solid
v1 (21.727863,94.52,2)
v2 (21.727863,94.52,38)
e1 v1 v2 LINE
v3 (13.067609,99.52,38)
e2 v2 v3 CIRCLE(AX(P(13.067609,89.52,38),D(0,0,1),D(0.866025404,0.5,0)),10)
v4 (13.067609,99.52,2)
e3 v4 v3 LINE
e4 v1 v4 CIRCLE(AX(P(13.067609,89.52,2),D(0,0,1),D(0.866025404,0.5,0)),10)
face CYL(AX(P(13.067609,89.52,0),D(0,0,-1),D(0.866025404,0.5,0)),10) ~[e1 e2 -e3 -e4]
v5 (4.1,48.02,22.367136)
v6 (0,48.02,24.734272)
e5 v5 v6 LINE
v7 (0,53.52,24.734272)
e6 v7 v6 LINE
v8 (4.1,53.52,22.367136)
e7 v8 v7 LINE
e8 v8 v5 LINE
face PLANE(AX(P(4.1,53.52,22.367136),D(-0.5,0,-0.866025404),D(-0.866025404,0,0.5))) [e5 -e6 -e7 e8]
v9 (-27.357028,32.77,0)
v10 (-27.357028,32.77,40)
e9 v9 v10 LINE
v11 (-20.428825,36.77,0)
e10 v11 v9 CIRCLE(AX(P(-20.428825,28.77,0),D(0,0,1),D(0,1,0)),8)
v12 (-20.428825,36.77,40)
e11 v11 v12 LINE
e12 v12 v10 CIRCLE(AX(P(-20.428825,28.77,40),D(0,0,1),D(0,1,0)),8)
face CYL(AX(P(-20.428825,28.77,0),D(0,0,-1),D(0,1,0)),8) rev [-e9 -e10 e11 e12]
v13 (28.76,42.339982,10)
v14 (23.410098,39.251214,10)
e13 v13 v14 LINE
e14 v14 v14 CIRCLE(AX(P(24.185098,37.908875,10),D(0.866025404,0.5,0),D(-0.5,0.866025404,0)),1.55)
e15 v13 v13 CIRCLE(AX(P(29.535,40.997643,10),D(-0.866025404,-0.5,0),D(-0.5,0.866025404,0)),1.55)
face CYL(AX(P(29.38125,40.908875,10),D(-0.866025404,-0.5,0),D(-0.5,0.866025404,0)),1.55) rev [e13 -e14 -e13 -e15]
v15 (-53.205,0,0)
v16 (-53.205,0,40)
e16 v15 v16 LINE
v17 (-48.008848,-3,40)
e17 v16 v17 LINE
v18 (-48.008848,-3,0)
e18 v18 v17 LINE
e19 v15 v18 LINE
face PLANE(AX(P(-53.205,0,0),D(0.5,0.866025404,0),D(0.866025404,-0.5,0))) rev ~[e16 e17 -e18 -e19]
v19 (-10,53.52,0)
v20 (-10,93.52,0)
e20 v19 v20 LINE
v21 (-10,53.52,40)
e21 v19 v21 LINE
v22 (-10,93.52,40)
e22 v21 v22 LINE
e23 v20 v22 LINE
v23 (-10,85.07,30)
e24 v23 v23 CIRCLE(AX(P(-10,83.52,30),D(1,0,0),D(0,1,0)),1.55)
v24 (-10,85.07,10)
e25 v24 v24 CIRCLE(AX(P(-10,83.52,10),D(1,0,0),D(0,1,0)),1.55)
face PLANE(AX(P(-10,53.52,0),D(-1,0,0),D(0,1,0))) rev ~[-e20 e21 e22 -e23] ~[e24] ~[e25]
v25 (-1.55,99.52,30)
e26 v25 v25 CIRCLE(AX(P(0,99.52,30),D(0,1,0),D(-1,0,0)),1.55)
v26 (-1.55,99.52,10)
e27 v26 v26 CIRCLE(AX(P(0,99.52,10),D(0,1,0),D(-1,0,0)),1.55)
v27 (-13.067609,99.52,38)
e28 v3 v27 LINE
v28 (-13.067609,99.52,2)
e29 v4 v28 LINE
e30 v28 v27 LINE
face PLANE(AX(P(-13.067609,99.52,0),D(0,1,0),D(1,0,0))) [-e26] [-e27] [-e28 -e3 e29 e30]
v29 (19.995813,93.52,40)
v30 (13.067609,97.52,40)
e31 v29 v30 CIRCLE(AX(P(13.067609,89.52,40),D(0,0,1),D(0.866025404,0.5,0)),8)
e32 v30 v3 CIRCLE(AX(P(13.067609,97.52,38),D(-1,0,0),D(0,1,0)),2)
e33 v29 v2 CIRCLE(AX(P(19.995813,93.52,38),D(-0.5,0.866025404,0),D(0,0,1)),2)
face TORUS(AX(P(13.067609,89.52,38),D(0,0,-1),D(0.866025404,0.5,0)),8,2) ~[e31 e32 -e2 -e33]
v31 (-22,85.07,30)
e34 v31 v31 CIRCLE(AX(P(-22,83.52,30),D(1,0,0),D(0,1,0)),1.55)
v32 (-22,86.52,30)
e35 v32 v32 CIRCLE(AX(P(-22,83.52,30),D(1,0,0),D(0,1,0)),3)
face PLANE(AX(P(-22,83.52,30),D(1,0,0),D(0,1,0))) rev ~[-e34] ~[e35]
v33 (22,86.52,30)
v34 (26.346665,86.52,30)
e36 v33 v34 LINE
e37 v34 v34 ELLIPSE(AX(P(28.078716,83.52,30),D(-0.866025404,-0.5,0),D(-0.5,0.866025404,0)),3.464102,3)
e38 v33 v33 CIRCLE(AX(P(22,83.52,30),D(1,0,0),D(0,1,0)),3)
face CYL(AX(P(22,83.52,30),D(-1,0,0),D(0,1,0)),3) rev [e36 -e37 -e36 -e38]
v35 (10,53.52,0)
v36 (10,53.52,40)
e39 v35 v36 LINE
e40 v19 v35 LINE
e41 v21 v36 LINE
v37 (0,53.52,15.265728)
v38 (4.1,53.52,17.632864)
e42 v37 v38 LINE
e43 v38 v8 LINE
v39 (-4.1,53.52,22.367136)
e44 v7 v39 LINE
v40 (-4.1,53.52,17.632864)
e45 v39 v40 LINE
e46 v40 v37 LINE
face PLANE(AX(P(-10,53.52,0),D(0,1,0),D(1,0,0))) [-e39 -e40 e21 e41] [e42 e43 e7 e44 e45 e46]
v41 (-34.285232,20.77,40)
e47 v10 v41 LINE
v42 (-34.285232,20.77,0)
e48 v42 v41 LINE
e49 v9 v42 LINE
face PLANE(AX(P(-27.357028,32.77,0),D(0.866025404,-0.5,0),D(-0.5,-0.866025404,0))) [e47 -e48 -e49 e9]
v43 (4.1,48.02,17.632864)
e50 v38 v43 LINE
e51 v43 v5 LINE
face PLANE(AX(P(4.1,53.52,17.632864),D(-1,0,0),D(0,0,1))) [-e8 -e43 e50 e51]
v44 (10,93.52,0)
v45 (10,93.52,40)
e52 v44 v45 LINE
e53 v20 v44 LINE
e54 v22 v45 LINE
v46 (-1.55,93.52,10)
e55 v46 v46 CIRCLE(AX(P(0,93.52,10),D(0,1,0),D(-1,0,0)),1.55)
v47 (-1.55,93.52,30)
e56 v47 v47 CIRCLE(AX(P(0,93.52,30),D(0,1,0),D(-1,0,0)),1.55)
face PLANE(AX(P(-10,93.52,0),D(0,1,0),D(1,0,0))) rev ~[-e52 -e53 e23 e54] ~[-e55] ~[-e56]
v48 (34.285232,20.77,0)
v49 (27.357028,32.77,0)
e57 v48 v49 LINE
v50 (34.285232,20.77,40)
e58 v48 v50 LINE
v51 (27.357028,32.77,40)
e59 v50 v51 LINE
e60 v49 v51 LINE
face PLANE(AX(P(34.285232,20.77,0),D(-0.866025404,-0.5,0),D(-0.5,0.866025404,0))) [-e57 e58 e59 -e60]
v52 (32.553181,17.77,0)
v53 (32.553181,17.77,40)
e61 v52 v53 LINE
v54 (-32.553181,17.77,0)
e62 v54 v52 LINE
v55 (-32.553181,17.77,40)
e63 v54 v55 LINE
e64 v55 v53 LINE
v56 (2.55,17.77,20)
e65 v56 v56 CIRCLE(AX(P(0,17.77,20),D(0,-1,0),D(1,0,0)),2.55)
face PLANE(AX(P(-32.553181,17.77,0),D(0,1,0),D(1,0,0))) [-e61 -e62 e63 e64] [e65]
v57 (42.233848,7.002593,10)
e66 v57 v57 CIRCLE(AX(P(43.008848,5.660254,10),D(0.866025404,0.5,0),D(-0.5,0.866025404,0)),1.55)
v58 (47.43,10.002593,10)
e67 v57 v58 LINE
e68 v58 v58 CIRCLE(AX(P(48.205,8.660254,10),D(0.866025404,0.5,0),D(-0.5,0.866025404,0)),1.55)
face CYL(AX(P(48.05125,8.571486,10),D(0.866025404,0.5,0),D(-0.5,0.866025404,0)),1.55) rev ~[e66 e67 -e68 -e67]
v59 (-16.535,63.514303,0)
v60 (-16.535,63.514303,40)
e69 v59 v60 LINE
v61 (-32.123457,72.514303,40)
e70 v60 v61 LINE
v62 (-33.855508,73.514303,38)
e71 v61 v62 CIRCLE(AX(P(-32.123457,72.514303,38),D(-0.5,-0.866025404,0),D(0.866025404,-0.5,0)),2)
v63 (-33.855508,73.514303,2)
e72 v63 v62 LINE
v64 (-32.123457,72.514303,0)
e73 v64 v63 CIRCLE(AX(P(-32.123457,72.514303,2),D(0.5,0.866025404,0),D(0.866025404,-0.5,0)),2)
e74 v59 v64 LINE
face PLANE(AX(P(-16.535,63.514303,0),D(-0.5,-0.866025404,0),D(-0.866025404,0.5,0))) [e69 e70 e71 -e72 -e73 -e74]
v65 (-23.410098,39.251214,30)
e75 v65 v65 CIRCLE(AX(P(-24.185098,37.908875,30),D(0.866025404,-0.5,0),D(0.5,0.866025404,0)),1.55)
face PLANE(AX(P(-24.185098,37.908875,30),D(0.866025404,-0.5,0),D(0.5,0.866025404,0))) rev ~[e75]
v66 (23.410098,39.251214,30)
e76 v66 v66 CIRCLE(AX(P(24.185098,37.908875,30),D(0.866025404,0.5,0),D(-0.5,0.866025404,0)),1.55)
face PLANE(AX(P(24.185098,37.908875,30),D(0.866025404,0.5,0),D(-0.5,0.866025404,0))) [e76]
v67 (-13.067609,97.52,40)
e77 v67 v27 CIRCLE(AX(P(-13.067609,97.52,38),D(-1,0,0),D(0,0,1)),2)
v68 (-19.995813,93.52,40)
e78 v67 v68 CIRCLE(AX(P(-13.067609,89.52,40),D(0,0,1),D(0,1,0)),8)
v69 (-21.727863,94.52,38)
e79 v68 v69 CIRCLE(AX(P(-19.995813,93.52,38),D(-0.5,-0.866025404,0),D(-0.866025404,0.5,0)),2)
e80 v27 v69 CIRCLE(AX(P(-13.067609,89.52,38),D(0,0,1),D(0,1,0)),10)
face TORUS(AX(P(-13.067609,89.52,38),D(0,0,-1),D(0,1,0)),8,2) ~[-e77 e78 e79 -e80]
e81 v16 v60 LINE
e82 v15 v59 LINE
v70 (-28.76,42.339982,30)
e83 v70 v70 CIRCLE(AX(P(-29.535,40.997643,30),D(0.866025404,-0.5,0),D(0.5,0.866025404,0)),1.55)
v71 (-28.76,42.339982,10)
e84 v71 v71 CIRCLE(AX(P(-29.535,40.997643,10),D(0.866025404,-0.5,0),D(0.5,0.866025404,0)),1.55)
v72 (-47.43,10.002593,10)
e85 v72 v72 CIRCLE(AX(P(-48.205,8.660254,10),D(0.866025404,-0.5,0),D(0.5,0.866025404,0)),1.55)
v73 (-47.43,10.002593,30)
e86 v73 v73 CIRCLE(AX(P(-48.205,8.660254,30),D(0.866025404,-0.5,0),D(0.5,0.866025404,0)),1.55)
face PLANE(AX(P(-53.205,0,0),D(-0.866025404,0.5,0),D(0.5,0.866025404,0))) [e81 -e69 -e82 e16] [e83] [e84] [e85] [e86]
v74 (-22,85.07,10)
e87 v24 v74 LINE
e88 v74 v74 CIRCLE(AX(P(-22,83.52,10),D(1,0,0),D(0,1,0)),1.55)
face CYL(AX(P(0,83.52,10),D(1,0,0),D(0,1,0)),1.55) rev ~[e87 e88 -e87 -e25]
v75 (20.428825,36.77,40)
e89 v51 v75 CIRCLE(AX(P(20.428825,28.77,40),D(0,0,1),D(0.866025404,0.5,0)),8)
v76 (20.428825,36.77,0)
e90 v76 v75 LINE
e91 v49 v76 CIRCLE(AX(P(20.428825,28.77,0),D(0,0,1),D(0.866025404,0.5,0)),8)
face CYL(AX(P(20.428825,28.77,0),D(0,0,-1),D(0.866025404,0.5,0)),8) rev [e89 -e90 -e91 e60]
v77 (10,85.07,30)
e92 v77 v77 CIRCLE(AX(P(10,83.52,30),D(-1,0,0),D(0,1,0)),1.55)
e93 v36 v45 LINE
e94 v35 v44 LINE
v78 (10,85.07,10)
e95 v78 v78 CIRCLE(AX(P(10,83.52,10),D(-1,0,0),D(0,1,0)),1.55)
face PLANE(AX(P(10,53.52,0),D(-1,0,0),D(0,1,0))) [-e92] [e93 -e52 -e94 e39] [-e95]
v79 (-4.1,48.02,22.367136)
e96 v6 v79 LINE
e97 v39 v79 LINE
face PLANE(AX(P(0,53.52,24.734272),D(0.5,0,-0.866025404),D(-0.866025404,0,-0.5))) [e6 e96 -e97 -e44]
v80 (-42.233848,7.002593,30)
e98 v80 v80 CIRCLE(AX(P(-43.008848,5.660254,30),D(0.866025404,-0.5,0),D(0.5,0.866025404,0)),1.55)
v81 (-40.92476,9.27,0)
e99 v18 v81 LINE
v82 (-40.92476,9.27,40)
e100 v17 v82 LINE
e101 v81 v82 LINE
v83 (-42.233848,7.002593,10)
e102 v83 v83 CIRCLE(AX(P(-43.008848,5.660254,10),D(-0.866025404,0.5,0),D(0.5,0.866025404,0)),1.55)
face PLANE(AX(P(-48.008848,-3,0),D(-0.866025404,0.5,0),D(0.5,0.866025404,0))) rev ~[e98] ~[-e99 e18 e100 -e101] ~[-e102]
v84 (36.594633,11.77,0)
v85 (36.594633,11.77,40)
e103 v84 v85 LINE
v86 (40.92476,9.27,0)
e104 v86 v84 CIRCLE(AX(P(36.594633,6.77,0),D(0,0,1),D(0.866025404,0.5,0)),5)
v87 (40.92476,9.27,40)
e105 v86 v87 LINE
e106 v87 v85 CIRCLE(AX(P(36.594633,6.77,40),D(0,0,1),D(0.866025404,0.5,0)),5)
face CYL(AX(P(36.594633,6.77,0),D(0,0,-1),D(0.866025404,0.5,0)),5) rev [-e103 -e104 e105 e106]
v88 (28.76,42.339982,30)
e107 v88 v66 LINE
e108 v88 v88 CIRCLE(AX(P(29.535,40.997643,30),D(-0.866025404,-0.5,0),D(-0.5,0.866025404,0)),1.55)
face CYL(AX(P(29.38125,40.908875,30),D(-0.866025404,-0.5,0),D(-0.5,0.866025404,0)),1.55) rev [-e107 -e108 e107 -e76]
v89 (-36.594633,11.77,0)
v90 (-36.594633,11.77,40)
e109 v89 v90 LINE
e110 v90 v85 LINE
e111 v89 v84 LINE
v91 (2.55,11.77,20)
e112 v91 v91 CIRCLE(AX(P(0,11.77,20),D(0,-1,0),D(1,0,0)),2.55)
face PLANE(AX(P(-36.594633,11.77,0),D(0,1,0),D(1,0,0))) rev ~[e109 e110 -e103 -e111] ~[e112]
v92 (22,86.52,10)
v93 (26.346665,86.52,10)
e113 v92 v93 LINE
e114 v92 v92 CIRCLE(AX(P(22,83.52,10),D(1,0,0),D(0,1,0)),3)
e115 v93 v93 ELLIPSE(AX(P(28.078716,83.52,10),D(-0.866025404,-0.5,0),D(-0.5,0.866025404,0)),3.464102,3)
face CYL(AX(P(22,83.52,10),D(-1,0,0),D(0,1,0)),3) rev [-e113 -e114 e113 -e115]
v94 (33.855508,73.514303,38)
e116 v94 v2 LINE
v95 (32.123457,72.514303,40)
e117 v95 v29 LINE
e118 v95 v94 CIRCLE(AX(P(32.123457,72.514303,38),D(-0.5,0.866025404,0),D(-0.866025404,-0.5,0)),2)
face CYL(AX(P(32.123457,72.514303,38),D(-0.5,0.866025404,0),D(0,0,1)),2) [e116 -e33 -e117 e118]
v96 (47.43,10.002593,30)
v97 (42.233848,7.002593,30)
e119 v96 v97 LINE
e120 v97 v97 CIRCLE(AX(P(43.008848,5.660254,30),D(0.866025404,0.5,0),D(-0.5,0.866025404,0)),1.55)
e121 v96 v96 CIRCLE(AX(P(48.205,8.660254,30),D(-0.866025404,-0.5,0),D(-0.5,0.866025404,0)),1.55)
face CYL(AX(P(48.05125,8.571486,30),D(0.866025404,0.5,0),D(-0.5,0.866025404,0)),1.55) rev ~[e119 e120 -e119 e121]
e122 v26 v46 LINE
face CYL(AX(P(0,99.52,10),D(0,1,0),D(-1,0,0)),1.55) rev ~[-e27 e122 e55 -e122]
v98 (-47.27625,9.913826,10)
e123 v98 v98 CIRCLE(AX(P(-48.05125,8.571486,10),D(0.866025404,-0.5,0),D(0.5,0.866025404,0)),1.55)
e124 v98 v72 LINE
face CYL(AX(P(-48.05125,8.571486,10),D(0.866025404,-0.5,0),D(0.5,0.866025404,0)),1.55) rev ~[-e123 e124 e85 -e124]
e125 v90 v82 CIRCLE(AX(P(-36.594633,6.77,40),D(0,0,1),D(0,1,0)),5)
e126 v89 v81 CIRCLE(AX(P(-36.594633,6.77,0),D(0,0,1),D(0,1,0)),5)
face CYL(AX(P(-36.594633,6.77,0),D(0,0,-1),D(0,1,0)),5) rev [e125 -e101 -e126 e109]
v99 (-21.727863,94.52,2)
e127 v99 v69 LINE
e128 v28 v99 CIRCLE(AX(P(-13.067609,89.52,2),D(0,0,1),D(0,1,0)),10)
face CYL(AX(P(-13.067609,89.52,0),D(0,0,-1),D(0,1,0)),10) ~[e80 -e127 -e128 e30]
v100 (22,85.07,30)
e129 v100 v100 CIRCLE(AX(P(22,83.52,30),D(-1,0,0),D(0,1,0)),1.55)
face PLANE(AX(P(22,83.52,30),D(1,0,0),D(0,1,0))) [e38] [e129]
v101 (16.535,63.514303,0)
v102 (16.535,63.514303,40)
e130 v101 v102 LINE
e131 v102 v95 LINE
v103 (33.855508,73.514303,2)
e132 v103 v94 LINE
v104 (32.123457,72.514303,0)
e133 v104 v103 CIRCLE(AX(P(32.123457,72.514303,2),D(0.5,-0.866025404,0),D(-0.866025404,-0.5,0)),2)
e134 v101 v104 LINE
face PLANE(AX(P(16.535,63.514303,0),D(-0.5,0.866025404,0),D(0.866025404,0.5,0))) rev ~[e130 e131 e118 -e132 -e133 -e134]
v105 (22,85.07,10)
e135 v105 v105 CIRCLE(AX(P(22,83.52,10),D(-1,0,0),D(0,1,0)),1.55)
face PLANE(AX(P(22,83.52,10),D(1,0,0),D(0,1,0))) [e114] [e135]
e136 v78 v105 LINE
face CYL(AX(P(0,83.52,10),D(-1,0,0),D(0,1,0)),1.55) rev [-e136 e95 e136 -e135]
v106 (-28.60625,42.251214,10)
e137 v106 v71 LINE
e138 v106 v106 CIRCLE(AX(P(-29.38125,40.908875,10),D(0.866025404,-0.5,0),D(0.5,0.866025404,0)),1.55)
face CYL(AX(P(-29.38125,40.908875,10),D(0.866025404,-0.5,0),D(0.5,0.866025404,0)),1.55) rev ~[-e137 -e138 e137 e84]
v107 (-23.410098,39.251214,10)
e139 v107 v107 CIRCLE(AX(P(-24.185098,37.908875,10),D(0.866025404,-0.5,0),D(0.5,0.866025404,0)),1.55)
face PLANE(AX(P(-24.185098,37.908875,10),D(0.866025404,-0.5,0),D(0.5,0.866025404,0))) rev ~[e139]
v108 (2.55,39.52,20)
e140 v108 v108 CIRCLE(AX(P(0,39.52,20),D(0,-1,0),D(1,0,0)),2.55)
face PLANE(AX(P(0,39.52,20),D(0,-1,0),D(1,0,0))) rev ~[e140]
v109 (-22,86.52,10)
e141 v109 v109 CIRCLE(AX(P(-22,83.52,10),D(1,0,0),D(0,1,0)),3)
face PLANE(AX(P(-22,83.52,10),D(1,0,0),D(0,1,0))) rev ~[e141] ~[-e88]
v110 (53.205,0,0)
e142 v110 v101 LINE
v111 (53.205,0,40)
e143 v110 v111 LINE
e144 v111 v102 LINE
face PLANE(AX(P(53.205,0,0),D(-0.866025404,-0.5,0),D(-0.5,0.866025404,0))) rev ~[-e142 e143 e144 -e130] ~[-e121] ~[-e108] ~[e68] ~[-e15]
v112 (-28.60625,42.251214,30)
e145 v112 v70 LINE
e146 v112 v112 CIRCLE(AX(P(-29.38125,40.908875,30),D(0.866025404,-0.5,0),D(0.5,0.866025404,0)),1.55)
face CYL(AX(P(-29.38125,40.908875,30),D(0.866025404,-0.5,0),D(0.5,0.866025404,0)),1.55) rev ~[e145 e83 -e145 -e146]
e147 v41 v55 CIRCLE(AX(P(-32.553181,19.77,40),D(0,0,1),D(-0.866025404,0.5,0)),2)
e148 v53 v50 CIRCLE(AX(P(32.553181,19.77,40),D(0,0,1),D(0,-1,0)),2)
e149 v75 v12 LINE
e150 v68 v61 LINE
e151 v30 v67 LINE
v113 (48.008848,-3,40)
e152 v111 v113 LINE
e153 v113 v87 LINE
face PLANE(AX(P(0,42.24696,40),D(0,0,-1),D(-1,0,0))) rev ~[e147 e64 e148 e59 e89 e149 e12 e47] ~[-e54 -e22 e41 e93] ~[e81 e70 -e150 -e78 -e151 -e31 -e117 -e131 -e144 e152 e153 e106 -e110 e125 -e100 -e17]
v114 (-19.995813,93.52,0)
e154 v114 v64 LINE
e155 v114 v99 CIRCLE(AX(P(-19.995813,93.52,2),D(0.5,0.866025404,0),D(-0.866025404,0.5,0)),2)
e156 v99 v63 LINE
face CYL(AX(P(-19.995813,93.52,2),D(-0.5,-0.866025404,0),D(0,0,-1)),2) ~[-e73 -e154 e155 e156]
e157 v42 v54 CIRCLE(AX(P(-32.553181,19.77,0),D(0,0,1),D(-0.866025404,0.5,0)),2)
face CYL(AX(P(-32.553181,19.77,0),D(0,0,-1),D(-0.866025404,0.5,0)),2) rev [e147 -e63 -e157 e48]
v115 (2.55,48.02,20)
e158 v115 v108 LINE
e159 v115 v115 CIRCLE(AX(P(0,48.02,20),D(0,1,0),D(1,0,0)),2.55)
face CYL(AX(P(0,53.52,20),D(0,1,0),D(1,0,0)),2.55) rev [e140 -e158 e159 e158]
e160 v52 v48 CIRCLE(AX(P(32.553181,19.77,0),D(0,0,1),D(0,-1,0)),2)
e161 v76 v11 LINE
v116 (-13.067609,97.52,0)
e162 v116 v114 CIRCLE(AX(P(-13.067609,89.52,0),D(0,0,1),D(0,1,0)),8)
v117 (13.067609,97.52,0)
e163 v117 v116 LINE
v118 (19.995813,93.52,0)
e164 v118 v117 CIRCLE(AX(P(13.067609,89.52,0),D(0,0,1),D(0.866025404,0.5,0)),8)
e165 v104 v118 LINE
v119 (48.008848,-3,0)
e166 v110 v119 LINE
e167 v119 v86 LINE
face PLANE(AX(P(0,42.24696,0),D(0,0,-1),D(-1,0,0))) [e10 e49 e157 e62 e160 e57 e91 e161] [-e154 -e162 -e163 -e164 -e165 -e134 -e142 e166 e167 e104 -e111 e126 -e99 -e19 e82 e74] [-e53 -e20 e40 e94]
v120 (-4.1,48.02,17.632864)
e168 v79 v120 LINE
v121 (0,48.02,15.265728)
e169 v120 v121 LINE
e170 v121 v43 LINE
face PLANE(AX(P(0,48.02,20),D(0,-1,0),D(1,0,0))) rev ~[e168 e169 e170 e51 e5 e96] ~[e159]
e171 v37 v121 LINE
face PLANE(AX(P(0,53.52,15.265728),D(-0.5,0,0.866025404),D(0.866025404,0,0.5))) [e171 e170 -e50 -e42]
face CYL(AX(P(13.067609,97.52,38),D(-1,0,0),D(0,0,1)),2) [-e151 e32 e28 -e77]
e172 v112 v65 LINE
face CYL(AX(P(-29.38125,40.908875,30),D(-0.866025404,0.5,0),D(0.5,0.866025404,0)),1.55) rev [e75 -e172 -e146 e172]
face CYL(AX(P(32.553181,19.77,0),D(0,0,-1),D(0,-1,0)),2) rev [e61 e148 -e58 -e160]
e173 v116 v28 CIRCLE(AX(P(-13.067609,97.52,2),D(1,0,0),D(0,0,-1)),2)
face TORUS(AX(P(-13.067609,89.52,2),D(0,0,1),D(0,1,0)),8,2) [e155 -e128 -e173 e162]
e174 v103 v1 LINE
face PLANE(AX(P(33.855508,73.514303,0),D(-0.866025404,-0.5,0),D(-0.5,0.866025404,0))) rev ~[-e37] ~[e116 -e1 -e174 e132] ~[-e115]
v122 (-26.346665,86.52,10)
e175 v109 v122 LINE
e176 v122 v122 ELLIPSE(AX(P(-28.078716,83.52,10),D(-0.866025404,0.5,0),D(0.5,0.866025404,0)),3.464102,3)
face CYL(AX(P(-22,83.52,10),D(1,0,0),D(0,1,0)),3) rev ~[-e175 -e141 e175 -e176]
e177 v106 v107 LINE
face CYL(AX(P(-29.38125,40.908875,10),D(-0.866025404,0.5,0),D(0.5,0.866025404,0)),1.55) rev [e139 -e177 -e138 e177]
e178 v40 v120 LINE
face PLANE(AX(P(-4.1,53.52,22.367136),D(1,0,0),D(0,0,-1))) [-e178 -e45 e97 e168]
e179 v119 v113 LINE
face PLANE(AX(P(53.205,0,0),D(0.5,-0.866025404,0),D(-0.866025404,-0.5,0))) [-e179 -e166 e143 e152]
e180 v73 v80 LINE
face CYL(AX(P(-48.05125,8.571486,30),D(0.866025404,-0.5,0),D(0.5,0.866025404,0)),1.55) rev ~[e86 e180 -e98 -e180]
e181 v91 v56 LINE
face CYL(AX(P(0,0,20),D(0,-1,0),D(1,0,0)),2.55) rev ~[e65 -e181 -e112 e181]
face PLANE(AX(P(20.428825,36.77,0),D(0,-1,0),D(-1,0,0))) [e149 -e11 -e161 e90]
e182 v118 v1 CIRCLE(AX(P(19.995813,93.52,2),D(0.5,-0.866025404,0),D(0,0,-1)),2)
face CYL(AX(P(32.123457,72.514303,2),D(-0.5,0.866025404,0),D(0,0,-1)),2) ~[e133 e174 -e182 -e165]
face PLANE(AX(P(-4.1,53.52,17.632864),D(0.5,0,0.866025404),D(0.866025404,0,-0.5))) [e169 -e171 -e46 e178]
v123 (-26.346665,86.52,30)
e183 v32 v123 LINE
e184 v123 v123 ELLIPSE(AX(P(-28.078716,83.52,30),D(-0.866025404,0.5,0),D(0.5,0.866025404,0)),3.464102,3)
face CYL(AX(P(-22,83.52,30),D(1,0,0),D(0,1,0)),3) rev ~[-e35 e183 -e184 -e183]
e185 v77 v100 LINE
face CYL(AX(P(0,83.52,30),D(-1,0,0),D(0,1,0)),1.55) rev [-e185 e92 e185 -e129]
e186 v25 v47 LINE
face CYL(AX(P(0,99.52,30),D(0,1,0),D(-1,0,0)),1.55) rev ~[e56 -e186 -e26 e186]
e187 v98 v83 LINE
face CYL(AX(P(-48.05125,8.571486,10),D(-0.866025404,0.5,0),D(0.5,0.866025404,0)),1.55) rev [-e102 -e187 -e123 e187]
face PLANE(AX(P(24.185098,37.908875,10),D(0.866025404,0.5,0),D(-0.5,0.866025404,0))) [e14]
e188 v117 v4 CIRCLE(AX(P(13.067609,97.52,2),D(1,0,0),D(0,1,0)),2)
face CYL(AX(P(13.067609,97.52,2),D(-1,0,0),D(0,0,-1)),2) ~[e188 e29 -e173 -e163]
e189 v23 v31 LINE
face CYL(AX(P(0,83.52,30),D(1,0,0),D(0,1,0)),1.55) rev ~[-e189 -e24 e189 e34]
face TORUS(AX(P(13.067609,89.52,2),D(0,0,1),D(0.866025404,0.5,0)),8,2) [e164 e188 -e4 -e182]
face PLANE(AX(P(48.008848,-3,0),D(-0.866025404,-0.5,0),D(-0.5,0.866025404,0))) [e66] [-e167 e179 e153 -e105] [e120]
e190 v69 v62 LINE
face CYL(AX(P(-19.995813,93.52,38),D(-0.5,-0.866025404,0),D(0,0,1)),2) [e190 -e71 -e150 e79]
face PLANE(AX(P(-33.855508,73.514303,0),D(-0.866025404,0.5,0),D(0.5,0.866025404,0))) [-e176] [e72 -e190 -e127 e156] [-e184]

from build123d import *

# Parameters (mm, degrees)
SKETCH184_W          = 20
SKETCH184_H          = 40
PAD049_DEPTH         = 40
SKETCH185_R          = 1.55
POCKET100_DEPTH      = 6
SKETCH186_R          = 1.55
POCKET101_DEPTH      = 6
SKETCH187_R          = 1.55
POCKET102_DEPTH      = 8
SKETCH188_R          = 2.55
POCKET103_DEPTH      = 20
SKETCH189_R          = 2.55
POCKET104_DEPTH      = 14
POCKET105_DEPTH      = 5.5
SKETCH191_R          = 1.55
POCKET106_DEPTH      = 53.206
POCKET106_DEPTH_BACK = 53.206
SKETCH192_R          = 3
POCKET107_DEPTH      = 31.206
SKETCH193_R          = 3
POCKET108_DEPTH      = 31.206
FILLET047_R          = 2


with BuildPart() as part:
    # Sketch184 → Pad049 (new body)
    with BuildSketch(Plane.XY):
        with BuildLine():
            Line((-53.205, 0), (-16.535, 63.5143031136))
            Line((-16.535, 63.5143031136), (-33.8555080757, 73.5143031136))
            Line((-33.8555080757, 73.5143031136), (-21.7278633238, 94.52))
            ThreePointArc((-13.0676092859, 99.52), (-18.0676092859, 98.1802540378), (-21.7278633238, 94.52))
            Line((-13.0676092859, 99.52), (13.0676092859, 99.52))
            ThreePointArc((21.7278633238, 94.52), (18.0676092859, 98.1802540378), (13.0676092859, 99.52))
            Line((33.8555080757, 73.5143031136), (21.7278633238, 94.52))
            Line((16.535, 63.5143031136), (33.8555080757, 73.5143031136))
            Line((53.205, 0), (16.535, 63.5143031136))
            Line((53.205, 0), (48.0088475773, -3))
            Line((48.0088475773, -3), (40.9247597743, 9.27))
            ThreePointArc((40.9247597743, 9.27), (39.0946327554, 11.1001270189), (36.5946327554, 11.77))
            Line((-36.5946327554, 11.77), (36.5946327554, 11.77))
            ThreePointArc((-36.5946327554, 11.77), (-39.0946327554, 11.1001270189), (-40.9247597743, 9.27))
            Line((-48.0088475773, -3), (-40.9247597743, 9.27))
            Line((-53.205, 0), (-48.0088475773, -3))
        make_face()
        with Locations((0, 73.52)):
            Rectangle(SKETCH184_W, SKETCH184_H, mode=Mode.SUBTRACT)
        with BuildLine():
            Line((-27.3570284484, 32.77), (-34.2852316787, 20.77))
            ThreePointArc((-34.2852316787, 20.77), (-34.2852316787, 18.77), (-32.5531808711, 17.77))
            Line((-32.5531808711, 17.77), (32.5531808711, 17.77))
            ThreePointArc((32.5531808711, 17.77), (34.2852316787, 18.77), (34.2852316787, 20.77))
            Line((34.2852316787, 20.77), (27.3570284484, 32.77))
            ThreePointArc((27.3570284484, 32.77), (24.4288252181, 35.6982032303), (20.4288252181, 36.77))
            Line((20.4288252181, 36.77), (-20.4288252181, 36.77))
            ThreePointArc((-20.4288252181, 36.77), (-24.4288252181, 35.6982032303), (-27.3570284484, 32.77))
        make_face(mode=Mode.SUBTRACT)
    extrude(amount=PAD049_DEPTH)

    # Sketch185 (on DatumPlane) → Pocket100 (cut, symmetric)
    with BuildSketch(Plane(origin=(53, 0, 0), x_dir=(-0.5, 0.8660254038, 0), z_dir=(0.8660254038, 0.5, 0))):
        with Locations((47.2375, 30)):
            Circle(SKETCH185_R)
        with Locations((9.8975, 30)):
            Circle(SKETCH185_R)
        with Locations((47.2375, 10)):
            Circle(SKETCH185_R)
        with Locations((9.8975, 10)):
            Circle(SKETCH185_R)
    extrude(amount=POCKET100_DEPTH, both=True, mode=Mode.SUBTRACT)

    # Sketch186 (on DatumPlane) → Pocket101 (cut, symmetric)
    with BuildSketch(Plane(origin=(-53, 0, 0), x_dir=(0.5, 0.8660254038, 0), z_dir=(0.8660254038, -0.5, 0))):
        with Locations((47.2375, 30)):
            Circle(SKETCH186_R)
        with Locations((47.2375, 10)):
            Circle(SKETCH186_R)
        with Locations((9.8975, 10)):
            Circle(SKETCH186_R)
        with Locations((9.8975, 30)):
            Circle(SKETCH186_R)
    extrude(amount=POCKET101_DEPTH, both=True, mode=Mode.SUBTRACT)

    # Sketch187 → Pocket102 (cut)
    with BuildSketch(Plane(origin=(0, 99.52, 0), x_dir=(-1, 0, 0), z_dir=(0, 1, 0))):
        with Locations((0, 30)):
            Circle(SKETCH187_R)
        with Locations((0, 10)):
            Circle(SKETCH187_R)
    extrude(amount=-POCKET102_DEPTH, mode=Mode.SUBTRACT)

    # Sketch188 → Pocket103 (cut)
    with BuildSketch(Plane.XZ):
        with Locations((0, 20)):
            Circle(SKETCH188_R)
    extrude(amount=-POCKET103_DEPTH, mode=Mode.SUBTRACT)

    # Sketch189 → Pocket104 (cut)
    with BuildSketch(Plane.XZ.offset(-53.52)):
        with Locations((0, 20)):
            Circle(SKETCH189_R)
    extrude(amount=POCKET104_DEPTH, mode=Mode.SUBTRACT)

    # Sketch190 → Pocket105 (cut)
    with BuildSketch(Plane.XZ.offset(-53.52)):
        Polygon((4.1, 17.6328638963), (4.1, 22.3671361037), (0, 24.7342722074), (-4.1, 22.3671361037), (-4.1, 17.6328638963), (0, 15.2657277926), align=None)
    extrude(amount=POCKET105_DEPTH, mode=Mode.SUBTRACT)

    # Sketch191 → Pocket106 (cut, two sides)
    with BuildSketch(Plane.YZ) as pocket106_sk:
        with Locations((83.52, 30)):
            Circle(SKETCH191_R)
        with Locations((83.52, 10)):
            Circle(SKETCH191_R)
    extrude(amount=-POCKET106_DEPTH, mode=Mode.SUBTRACT)
    extrude(pocket106_sk.sketch, amount=POCKET106_DEPTH_BACK, mode=Mode.SUBTRACT)

    # Sketch192 → Pocket107 (cut, through all)
    with BuildSketch(Plane.YZ.offset(22)):
        with Locations((83.52, 30)):
            Circle(SKETCH192_R)
        with Locations((83.52, 10)):
            Circle(SKETCH192_R)
    extrude(amount=POCKET107_DEPTH, mode=Mode.SUBTRACT)

    # Sketch193 → Pocket108 (cut, through all)
    with BuildSketch(Plane.YZ.offset(-22)):
        with Locations((83.52, 30)):
            Circle(SKETCH193_R)
        with Locations((83.52, 10)):
            Circle(SKETCH193_R)
    extrude(amount=-POCKET108_DEPTH, mode=Mode.SUBTRACT)

    # Fillet047
    fillet047_edges = [part.edges().sort_by_distance(p)[0] for p in [
        (27.791686, 84.017152, 40),
        (18.067609, 98.180254, 40),
        (0, 99.52, 40),
        (-18.067609, 98.180254, 40),
        (-27.791686, 84.017152, 40),
        (27.791686, 84.017152, 0),
        (18.067609, 98.180254, 0),
        (0, 99.52, 0),
        (-18.067609, 98.180254, 0),
        (-27.791686, 84.017152, 0),
    ]]
    fillet(fillet047_edges, radius=FILLET047_R)


solid = part.part
